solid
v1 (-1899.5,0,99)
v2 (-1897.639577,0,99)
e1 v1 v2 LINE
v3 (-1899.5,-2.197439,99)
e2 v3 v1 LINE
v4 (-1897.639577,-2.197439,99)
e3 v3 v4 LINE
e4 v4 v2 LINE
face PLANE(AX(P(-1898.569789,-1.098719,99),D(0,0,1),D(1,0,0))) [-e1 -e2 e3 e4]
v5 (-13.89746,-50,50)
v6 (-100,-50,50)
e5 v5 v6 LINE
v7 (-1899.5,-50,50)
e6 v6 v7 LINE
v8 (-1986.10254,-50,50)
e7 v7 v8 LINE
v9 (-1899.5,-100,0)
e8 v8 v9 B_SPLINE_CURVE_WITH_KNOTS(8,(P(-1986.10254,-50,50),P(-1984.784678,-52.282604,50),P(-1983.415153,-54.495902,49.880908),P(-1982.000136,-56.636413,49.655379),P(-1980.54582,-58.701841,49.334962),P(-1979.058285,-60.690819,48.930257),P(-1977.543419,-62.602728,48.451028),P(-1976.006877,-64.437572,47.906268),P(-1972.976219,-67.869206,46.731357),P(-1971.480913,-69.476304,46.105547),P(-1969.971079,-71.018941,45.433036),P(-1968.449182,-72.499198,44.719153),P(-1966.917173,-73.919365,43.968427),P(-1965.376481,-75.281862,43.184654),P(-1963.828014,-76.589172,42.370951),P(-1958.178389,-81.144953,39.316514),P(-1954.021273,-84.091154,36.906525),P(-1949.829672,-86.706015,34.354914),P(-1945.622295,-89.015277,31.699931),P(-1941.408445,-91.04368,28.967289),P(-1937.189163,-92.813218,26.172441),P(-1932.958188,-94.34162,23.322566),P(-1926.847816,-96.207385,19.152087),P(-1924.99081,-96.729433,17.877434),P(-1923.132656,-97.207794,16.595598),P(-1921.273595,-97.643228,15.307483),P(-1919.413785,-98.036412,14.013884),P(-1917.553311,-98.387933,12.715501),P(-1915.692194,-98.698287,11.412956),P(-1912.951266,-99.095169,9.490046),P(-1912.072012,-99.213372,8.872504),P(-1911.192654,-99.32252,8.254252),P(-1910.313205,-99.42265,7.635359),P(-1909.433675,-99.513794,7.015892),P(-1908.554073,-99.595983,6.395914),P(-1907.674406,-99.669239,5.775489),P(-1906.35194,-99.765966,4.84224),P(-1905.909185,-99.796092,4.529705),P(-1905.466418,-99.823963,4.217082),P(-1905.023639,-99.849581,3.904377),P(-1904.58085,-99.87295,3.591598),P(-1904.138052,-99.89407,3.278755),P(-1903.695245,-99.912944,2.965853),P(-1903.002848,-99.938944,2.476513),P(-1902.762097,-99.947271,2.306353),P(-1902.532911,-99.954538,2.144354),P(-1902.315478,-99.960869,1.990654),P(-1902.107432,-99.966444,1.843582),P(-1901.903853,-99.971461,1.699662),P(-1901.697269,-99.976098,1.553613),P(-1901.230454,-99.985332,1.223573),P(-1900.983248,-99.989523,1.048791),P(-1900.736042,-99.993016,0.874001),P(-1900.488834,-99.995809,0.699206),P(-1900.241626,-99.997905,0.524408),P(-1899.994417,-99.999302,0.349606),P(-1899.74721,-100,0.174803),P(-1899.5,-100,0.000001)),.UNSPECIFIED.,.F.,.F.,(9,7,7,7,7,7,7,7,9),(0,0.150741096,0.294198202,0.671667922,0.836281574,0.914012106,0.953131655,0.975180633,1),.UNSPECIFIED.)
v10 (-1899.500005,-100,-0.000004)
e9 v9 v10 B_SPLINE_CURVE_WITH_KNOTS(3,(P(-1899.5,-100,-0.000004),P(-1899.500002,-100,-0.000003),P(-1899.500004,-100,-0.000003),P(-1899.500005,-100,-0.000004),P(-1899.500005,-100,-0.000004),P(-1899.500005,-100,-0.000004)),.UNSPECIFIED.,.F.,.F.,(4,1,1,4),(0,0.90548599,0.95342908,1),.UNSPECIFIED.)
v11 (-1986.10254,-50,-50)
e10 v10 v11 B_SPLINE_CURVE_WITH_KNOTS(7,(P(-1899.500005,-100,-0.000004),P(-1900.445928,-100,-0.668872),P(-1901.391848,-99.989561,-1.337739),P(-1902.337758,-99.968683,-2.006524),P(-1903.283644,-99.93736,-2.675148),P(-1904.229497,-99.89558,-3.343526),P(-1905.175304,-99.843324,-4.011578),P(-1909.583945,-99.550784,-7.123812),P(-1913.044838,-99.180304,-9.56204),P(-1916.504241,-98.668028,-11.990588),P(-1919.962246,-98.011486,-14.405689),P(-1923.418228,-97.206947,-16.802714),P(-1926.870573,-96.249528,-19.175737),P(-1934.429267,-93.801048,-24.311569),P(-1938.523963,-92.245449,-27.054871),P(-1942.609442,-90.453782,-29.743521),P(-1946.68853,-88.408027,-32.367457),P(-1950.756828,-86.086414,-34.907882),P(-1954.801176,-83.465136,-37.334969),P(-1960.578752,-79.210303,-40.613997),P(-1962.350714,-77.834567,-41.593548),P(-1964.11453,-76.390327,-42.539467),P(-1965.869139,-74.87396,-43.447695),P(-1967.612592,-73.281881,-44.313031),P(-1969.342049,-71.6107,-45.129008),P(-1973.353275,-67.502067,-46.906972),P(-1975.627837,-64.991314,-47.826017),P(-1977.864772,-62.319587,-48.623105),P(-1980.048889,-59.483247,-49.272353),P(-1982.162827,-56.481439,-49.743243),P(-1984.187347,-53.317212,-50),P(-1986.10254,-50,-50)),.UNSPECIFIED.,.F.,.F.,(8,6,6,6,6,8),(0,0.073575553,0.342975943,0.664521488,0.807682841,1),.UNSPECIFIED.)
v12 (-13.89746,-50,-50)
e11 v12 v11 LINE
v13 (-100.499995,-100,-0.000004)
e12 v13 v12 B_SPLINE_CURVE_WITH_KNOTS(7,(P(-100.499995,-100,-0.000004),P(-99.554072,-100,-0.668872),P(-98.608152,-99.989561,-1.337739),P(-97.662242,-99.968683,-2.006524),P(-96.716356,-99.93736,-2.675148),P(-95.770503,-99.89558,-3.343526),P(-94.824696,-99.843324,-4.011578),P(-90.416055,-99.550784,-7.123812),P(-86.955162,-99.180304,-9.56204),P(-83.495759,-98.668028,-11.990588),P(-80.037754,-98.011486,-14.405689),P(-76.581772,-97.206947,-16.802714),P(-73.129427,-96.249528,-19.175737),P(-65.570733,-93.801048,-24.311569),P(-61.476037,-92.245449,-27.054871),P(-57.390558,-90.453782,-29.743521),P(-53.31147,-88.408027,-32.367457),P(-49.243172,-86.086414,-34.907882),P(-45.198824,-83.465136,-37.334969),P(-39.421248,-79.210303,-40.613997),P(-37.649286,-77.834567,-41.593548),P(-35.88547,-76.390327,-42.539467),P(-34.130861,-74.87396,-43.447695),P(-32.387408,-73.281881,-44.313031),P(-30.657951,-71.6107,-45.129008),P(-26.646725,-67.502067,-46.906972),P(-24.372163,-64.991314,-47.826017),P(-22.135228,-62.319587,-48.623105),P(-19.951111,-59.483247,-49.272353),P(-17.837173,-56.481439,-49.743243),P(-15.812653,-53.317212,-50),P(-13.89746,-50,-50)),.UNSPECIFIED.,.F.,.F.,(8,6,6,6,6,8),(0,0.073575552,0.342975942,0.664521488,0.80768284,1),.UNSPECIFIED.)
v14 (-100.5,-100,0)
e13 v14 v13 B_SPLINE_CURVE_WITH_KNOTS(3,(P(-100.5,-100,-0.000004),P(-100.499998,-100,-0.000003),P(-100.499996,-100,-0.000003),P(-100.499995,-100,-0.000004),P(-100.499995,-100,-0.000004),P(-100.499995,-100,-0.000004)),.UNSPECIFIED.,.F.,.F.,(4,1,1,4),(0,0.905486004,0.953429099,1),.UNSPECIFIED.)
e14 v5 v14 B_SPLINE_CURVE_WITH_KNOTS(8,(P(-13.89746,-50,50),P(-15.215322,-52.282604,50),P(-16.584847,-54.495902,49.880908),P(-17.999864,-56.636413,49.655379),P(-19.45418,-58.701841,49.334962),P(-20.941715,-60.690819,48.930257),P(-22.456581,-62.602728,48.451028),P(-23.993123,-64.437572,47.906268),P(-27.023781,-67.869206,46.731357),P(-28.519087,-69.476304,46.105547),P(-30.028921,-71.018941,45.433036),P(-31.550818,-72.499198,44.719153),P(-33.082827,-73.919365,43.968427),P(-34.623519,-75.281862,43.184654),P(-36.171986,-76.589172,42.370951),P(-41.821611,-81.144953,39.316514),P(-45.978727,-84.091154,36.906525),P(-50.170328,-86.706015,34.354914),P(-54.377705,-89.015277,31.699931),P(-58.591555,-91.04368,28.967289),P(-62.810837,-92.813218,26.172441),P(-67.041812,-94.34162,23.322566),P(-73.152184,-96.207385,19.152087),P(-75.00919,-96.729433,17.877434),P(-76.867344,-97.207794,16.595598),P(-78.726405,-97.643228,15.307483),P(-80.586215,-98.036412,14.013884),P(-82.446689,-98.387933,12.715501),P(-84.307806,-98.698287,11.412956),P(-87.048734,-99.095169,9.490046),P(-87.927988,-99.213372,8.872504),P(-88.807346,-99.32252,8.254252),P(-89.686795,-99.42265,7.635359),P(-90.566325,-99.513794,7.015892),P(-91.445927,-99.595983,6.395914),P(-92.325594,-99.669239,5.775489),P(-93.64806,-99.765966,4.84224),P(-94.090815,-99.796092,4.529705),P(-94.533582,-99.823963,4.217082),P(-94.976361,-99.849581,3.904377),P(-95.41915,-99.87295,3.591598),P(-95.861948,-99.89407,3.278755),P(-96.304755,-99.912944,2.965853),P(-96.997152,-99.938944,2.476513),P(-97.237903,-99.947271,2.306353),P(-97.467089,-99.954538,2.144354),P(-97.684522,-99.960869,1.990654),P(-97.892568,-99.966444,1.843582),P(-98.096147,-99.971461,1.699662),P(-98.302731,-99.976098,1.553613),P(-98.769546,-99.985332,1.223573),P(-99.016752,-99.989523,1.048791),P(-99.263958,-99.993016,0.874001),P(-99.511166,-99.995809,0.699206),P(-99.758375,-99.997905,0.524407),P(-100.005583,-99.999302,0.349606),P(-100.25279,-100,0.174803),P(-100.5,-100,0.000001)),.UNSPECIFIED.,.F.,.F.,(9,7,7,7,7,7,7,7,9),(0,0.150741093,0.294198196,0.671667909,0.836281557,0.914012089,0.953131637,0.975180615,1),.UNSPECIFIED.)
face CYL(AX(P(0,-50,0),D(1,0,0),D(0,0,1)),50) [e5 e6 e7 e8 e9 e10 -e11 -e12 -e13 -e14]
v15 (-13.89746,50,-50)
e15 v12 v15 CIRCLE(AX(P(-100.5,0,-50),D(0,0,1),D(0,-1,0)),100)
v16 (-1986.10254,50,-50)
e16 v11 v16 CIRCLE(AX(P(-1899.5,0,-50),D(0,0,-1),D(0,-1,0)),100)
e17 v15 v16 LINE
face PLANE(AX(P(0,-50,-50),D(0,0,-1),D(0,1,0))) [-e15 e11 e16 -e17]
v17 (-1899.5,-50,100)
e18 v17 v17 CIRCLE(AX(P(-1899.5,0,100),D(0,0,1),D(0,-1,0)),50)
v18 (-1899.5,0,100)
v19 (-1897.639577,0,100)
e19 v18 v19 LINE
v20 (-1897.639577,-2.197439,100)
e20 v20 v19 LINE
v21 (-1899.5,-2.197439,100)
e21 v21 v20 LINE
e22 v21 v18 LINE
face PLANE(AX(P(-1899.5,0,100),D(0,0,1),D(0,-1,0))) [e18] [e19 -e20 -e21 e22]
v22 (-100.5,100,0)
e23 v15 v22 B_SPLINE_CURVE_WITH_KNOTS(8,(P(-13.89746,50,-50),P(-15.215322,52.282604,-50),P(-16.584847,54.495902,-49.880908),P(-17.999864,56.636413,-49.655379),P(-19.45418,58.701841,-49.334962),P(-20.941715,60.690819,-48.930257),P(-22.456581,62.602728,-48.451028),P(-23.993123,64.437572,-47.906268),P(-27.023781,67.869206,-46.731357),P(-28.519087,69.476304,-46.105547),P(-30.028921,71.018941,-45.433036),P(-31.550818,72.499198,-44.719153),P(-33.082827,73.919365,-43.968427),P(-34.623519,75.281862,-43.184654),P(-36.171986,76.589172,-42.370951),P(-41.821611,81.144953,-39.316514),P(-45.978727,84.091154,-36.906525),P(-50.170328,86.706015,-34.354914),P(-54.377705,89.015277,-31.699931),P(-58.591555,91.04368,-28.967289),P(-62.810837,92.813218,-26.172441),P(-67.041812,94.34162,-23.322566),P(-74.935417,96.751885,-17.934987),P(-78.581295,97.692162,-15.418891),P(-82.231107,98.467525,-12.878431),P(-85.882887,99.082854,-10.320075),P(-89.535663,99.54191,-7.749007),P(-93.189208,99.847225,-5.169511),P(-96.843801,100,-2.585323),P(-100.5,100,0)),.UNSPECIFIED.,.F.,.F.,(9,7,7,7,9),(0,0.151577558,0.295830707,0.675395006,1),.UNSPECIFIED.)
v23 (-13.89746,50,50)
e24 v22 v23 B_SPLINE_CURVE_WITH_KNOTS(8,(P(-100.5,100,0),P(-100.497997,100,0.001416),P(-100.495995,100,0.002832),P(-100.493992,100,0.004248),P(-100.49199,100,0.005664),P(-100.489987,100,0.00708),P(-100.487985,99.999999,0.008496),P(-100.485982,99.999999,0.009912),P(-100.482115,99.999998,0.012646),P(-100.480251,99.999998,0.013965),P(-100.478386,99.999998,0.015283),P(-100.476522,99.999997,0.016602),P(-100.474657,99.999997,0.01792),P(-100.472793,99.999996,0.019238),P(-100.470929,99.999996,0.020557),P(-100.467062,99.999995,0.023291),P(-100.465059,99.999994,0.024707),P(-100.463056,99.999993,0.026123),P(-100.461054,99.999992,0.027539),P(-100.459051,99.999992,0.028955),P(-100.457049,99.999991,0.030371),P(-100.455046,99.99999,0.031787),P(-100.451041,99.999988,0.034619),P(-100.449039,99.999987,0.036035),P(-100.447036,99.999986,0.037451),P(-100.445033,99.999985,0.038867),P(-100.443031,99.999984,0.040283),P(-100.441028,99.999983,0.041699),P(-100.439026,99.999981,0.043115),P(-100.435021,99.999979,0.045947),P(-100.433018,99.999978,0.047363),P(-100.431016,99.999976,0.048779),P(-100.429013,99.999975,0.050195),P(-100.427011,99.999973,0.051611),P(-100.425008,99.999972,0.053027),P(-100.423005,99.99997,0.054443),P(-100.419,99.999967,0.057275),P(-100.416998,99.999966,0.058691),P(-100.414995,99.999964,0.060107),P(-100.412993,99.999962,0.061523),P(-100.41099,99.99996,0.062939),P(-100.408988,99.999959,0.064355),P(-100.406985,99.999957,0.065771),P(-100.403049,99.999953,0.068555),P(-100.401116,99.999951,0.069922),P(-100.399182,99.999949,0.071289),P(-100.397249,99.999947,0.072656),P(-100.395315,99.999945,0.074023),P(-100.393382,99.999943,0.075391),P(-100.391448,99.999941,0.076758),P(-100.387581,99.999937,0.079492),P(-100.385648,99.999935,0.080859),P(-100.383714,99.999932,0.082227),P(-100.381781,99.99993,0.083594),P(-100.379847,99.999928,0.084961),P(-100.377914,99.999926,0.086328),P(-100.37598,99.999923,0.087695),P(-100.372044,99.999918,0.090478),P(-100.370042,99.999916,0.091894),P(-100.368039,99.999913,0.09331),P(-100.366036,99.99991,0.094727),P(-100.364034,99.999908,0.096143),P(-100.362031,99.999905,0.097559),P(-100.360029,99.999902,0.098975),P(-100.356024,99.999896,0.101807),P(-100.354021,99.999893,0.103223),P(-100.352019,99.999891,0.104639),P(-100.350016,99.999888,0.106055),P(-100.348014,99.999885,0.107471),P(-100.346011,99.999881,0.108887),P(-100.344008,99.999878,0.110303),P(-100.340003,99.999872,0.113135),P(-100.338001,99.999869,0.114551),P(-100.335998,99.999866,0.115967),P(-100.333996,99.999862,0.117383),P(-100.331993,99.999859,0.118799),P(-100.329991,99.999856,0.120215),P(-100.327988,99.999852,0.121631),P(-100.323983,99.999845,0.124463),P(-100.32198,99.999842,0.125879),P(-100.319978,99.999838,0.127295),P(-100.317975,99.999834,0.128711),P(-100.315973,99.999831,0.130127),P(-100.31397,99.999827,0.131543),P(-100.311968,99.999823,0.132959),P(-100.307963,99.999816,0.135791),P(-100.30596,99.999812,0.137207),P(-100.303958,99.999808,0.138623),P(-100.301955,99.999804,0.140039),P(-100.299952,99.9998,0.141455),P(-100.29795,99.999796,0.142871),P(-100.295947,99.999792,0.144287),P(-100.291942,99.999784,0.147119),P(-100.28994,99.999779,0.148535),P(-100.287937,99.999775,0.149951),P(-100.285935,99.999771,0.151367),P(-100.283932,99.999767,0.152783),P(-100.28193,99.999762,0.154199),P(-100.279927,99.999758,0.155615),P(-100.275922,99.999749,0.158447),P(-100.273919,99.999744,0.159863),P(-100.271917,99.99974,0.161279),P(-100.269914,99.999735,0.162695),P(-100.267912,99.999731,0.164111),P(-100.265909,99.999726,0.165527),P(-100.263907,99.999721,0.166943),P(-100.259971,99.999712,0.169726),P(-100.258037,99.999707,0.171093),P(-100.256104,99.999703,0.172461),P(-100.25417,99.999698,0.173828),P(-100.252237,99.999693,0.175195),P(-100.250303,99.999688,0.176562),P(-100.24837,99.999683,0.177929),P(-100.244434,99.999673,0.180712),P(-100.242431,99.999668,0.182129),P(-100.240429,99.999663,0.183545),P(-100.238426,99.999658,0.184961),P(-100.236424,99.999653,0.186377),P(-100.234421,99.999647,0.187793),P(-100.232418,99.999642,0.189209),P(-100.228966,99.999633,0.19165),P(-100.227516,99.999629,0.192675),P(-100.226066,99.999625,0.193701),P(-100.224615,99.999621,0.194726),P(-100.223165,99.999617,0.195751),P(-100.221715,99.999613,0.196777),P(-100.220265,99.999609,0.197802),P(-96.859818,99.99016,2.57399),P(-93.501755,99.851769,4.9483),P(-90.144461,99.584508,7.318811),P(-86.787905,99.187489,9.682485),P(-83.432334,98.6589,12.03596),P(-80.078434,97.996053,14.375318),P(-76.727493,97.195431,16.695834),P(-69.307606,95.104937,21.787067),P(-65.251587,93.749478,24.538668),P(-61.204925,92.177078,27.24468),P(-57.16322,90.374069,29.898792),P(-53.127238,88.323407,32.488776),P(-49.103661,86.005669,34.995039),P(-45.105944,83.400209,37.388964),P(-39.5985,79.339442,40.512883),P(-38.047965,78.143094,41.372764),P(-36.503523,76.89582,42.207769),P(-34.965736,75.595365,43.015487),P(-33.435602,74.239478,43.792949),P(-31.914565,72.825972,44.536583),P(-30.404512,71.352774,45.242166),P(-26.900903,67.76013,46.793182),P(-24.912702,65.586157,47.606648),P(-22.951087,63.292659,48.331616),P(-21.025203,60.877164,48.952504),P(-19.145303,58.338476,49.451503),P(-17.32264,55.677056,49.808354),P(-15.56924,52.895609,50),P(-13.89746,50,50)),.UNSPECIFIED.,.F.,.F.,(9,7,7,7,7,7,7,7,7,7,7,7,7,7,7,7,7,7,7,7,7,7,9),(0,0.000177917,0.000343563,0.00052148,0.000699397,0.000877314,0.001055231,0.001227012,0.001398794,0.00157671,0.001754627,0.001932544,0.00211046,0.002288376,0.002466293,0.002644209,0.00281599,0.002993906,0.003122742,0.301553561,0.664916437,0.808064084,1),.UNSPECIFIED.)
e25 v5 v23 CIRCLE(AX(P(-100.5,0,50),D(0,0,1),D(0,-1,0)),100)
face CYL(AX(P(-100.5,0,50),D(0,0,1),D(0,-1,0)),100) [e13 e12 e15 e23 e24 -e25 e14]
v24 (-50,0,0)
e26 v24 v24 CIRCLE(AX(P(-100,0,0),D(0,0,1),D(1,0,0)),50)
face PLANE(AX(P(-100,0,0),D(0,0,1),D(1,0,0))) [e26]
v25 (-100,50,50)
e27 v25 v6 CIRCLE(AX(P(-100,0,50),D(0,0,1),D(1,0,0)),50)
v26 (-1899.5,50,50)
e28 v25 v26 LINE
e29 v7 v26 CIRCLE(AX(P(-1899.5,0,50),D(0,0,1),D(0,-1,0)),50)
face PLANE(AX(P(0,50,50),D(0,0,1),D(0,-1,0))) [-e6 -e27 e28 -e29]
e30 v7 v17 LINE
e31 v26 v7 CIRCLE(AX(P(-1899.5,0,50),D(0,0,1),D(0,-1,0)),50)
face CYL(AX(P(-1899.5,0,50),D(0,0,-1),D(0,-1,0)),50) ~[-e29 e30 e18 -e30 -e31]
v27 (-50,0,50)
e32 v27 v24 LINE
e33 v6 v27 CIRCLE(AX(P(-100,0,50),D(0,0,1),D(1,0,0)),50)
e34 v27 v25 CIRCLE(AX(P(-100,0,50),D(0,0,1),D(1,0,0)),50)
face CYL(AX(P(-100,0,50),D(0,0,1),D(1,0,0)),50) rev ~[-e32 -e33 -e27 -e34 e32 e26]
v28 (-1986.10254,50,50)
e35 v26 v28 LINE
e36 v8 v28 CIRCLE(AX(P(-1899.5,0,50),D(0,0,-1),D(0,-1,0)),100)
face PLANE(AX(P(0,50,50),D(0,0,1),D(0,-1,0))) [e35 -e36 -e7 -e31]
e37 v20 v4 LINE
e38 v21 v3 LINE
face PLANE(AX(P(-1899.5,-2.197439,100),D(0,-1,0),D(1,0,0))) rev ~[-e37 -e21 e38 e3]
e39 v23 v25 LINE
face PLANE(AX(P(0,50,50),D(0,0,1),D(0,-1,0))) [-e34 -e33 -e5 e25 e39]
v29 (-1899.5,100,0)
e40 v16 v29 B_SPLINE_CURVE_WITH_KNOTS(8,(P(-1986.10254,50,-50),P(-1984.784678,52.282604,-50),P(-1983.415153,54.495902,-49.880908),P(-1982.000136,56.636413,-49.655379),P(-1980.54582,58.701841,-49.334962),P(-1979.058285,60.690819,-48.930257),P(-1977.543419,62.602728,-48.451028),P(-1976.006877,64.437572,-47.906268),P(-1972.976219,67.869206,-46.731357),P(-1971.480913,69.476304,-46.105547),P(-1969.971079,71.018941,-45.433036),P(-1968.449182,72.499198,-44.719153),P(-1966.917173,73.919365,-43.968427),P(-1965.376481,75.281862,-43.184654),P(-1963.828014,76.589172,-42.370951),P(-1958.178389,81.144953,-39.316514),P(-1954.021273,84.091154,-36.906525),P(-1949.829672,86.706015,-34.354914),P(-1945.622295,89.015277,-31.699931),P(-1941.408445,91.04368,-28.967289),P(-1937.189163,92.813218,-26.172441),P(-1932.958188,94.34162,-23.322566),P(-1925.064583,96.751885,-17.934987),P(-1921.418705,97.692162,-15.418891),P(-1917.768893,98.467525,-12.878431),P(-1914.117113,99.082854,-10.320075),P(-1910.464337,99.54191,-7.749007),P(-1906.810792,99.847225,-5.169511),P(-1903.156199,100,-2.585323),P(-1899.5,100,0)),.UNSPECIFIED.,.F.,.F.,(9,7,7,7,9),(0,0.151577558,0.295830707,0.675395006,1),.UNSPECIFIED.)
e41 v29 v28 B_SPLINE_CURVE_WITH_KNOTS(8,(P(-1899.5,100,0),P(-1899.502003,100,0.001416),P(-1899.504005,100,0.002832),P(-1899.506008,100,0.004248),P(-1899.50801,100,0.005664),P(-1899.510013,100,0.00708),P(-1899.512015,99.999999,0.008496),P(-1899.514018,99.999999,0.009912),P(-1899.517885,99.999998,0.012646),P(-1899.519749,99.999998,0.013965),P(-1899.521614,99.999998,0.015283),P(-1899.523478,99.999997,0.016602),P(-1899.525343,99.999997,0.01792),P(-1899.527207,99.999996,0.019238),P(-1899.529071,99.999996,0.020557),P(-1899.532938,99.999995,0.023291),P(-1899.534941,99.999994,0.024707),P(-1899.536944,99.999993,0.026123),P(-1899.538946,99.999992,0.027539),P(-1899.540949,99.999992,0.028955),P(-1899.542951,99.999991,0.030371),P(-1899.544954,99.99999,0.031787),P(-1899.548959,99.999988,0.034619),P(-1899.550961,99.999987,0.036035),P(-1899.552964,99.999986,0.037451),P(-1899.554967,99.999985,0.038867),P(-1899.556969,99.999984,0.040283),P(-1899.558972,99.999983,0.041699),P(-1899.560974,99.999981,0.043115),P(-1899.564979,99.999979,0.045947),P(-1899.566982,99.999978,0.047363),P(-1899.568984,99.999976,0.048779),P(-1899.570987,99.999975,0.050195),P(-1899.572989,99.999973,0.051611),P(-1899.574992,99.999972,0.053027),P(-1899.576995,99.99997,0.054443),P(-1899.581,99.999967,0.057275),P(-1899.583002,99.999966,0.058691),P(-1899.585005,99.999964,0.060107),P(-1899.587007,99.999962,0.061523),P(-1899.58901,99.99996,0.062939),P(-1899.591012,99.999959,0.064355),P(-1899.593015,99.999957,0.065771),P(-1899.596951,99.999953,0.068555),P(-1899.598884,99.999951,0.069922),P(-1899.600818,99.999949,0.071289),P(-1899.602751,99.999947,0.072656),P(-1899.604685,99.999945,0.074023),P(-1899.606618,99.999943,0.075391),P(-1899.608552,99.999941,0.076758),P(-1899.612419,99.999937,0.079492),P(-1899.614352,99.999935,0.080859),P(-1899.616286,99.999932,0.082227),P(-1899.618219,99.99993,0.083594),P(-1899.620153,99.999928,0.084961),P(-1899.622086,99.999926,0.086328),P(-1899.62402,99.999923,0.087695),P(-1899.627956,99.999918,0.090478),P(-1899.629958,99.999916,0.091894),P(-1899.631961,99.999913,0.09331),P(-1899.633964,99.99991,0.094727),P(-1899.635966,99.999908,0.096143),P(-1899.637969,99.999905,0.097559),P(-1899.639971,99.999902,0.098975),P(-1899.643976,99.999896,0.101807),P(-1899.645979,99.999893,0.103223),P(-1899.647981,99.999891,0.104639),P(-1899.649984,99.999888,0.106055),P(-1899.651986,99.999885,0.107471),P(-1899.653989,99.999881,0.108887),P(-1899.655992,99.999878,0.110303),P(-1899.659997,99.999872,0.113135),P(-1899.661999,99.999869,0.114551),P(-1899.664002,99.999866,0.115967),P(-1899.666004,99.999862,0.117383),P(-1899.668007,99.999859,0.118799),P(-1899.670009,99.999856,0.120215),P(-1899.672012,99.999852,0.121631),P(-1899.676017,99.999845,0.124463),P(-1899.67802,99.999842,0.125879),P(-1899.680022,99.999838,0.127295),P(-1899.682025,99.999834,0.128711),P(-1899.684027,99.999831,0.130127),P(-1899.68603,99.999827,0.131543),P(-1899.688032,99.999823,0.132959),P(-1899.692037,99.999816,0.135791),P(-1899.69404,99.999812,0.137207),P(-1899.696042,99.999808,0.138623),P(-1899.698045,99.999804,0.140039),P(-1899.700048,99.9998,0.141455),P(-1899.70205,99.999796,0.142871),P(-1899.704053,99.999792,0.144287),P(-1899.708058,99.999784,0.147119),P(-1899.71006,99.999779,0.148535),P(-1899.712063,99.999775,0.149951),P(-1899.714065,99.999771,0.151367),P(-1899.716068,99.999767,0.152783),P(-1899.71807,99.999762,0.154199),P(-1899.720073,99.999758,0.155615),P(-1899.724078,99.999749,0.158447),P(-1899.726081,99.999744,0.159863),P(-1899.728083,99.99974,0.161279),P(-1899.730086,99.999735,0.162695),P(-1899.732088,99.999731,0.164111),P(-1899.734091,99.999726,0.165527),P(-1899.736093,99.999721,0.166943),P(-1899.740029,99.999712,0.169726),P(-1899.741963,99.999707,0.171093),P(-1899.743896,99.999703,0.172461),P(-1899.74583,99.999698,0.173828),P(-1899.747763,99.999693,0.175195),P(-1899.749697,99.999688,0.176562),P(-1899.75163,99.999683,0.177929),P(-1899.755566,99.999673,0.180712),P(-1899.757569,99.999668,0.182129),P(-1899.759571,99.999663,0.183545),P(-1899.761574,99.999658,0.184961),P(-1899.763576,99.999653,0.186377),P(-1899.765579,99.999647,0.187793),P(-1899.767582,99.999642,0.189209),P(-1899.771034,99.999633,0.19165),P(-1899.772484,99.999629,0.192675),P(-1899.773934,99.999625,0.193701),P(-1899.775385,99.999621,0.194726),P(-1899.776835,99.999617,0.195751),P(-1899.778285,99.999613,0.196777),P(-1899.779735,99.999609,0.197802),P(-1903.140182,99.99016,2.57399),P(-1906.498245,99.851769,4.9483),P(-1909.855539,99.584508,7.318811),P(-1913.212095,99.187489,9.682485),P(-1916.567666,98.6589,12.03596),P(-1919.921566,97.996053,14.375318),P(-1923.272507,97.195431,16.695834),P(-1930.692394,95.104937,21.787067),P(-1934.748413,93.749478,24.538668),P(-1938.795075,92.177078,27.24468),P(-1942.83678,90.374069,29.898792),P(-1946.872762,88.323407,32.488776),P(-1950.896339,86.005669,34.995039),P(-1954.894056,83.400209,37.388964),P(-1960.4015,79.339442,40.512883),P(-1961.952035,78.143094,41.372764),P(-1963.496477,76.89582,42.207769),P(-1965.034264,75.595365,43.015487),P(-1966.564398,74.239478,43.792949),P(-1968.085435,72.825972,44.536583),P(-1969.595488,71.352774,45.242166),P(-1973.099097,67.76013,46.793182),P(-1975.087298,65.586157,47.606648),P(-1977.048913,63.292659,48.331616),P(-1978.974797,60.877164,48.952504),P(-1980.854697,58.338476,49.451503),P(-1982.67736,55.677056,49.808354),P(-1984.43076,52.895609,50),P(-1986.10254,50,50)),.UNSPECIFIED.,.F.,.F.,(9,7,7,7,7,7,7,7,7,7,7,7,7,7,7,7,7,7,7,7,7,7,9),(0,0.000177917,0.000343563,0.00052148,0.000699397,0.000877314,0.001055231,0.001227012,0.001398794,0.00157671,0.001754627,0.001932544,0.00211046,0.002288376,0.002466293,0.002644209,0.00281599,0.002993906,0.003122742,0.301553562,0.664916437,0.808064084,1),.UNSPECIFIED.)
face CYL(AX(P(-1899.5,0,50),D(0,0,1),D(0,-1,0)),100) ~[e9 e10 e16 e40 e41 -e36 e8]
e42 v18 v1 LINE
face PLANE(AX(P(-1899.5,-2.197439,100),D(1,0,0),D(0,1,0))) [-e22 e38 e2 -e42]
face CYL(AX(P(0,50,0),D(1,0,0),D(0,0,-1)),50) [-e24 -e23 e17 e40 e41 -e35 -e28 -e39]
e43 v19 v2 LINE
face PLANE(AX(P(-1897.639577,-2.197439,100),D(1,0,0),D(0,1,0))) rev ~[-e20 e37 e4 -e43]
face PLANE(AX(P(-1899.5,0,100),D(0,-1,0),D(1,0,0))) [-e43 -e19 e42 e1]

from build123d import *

# Parameters (mm, degrees)
BOSS_EXTRUDE1_DEPTH = 2000
CUT_EXTRUDE1_DEPTH  = 100
SKETCH3_R           = 50
CUT_EXTRUDE2_DEPTH  = 50
SKETCH4_R           = 50
BOSS_EXTRUDE2_DEPTH = 50
SKETCH5_W           = 1.860422616
SKETCH5_H           = 2.197438595
CUT_EXTRUDE3_DEPTH  = 1


with BuildPart() as part:
    # Sketch1 → Boss-Extrude1 (new body)
    with BuildSketch(Plane(origin=(0, 0, 0), x_dir=(0, 0, -1), z_dir=(1, 0, 0))):
        with BuildLine():
            Line((-50, 50), (-50, -50))
            ThreePointArc((-50, -50), (0, -100), (50, -50))
            Line((50, -50), (50, 50))
            ThreePointArc((50, 50), (0, 100), (-50, 50))
        make_face()
    extrude(amount=-BOSS_EXTRUDE1_DEPTH)

    # Sketch2 → Cut-Extrude1 (cut)
    with BuildSketch(Plane.XY.offset(50)):
        with BuildLine():
            Line((-1899.5, 100), (-2000, 100))
            Line((-2000, 100), (-2000, -100))
            Line((-2000, -100), (-1899.5, -100))
            ThreePointArc((-1899.5, -100), (-1999.5, 0), (-1899.5, 100))
        make_face()
        with BuildLine():
            Line((-100.5, 100), (0, 100))
            Line((0, 100), (0, -100))
            Line((0, -100), (-100.5, -100))
            ThreePointArc((-100.5, -100), (-0.5, 0), (-100.5, 100))
        make_face()
    extrude(amount=-CUT_EXTRUDE1_DEPTH, mode=Mode.SUBTRACT)

    # Sketch3 → Cut-Extrude2 (cut)
    with BuildSketch(Plane.XY.offset(50)):
        with Locations((-100, 0)):
            Circle(SKETCH3_R)
    extrude(amount=-CUT_EXTRUDE2_DEPTH, mode=Mode.SUBTRACT)

    # Sketch4 → Boss-Extrude2 (add)
    with BuildSketch(Plane.XY.offset(50)):
        with Locations(Location((-1899.5, 0, 0), (0, 0, 270))):
            Circle(SKETCH4_R)
    extrude(amount=BOSS_EXTRUDE2_DEPTH)

    # Sketch5 → Cut-Extrude3 (cut)
    with BuildSketch(Plane.XY.offset(100)):
        with Locations((-1898.569788692, -1.098719297)):
            Rectangle(SKETCH5_W, SKETCH5_H)
    extrude(amount=-CUT_EXTRUDE3_DEPTH, mode=Mode.SUBTRACT)


solid = part.part
